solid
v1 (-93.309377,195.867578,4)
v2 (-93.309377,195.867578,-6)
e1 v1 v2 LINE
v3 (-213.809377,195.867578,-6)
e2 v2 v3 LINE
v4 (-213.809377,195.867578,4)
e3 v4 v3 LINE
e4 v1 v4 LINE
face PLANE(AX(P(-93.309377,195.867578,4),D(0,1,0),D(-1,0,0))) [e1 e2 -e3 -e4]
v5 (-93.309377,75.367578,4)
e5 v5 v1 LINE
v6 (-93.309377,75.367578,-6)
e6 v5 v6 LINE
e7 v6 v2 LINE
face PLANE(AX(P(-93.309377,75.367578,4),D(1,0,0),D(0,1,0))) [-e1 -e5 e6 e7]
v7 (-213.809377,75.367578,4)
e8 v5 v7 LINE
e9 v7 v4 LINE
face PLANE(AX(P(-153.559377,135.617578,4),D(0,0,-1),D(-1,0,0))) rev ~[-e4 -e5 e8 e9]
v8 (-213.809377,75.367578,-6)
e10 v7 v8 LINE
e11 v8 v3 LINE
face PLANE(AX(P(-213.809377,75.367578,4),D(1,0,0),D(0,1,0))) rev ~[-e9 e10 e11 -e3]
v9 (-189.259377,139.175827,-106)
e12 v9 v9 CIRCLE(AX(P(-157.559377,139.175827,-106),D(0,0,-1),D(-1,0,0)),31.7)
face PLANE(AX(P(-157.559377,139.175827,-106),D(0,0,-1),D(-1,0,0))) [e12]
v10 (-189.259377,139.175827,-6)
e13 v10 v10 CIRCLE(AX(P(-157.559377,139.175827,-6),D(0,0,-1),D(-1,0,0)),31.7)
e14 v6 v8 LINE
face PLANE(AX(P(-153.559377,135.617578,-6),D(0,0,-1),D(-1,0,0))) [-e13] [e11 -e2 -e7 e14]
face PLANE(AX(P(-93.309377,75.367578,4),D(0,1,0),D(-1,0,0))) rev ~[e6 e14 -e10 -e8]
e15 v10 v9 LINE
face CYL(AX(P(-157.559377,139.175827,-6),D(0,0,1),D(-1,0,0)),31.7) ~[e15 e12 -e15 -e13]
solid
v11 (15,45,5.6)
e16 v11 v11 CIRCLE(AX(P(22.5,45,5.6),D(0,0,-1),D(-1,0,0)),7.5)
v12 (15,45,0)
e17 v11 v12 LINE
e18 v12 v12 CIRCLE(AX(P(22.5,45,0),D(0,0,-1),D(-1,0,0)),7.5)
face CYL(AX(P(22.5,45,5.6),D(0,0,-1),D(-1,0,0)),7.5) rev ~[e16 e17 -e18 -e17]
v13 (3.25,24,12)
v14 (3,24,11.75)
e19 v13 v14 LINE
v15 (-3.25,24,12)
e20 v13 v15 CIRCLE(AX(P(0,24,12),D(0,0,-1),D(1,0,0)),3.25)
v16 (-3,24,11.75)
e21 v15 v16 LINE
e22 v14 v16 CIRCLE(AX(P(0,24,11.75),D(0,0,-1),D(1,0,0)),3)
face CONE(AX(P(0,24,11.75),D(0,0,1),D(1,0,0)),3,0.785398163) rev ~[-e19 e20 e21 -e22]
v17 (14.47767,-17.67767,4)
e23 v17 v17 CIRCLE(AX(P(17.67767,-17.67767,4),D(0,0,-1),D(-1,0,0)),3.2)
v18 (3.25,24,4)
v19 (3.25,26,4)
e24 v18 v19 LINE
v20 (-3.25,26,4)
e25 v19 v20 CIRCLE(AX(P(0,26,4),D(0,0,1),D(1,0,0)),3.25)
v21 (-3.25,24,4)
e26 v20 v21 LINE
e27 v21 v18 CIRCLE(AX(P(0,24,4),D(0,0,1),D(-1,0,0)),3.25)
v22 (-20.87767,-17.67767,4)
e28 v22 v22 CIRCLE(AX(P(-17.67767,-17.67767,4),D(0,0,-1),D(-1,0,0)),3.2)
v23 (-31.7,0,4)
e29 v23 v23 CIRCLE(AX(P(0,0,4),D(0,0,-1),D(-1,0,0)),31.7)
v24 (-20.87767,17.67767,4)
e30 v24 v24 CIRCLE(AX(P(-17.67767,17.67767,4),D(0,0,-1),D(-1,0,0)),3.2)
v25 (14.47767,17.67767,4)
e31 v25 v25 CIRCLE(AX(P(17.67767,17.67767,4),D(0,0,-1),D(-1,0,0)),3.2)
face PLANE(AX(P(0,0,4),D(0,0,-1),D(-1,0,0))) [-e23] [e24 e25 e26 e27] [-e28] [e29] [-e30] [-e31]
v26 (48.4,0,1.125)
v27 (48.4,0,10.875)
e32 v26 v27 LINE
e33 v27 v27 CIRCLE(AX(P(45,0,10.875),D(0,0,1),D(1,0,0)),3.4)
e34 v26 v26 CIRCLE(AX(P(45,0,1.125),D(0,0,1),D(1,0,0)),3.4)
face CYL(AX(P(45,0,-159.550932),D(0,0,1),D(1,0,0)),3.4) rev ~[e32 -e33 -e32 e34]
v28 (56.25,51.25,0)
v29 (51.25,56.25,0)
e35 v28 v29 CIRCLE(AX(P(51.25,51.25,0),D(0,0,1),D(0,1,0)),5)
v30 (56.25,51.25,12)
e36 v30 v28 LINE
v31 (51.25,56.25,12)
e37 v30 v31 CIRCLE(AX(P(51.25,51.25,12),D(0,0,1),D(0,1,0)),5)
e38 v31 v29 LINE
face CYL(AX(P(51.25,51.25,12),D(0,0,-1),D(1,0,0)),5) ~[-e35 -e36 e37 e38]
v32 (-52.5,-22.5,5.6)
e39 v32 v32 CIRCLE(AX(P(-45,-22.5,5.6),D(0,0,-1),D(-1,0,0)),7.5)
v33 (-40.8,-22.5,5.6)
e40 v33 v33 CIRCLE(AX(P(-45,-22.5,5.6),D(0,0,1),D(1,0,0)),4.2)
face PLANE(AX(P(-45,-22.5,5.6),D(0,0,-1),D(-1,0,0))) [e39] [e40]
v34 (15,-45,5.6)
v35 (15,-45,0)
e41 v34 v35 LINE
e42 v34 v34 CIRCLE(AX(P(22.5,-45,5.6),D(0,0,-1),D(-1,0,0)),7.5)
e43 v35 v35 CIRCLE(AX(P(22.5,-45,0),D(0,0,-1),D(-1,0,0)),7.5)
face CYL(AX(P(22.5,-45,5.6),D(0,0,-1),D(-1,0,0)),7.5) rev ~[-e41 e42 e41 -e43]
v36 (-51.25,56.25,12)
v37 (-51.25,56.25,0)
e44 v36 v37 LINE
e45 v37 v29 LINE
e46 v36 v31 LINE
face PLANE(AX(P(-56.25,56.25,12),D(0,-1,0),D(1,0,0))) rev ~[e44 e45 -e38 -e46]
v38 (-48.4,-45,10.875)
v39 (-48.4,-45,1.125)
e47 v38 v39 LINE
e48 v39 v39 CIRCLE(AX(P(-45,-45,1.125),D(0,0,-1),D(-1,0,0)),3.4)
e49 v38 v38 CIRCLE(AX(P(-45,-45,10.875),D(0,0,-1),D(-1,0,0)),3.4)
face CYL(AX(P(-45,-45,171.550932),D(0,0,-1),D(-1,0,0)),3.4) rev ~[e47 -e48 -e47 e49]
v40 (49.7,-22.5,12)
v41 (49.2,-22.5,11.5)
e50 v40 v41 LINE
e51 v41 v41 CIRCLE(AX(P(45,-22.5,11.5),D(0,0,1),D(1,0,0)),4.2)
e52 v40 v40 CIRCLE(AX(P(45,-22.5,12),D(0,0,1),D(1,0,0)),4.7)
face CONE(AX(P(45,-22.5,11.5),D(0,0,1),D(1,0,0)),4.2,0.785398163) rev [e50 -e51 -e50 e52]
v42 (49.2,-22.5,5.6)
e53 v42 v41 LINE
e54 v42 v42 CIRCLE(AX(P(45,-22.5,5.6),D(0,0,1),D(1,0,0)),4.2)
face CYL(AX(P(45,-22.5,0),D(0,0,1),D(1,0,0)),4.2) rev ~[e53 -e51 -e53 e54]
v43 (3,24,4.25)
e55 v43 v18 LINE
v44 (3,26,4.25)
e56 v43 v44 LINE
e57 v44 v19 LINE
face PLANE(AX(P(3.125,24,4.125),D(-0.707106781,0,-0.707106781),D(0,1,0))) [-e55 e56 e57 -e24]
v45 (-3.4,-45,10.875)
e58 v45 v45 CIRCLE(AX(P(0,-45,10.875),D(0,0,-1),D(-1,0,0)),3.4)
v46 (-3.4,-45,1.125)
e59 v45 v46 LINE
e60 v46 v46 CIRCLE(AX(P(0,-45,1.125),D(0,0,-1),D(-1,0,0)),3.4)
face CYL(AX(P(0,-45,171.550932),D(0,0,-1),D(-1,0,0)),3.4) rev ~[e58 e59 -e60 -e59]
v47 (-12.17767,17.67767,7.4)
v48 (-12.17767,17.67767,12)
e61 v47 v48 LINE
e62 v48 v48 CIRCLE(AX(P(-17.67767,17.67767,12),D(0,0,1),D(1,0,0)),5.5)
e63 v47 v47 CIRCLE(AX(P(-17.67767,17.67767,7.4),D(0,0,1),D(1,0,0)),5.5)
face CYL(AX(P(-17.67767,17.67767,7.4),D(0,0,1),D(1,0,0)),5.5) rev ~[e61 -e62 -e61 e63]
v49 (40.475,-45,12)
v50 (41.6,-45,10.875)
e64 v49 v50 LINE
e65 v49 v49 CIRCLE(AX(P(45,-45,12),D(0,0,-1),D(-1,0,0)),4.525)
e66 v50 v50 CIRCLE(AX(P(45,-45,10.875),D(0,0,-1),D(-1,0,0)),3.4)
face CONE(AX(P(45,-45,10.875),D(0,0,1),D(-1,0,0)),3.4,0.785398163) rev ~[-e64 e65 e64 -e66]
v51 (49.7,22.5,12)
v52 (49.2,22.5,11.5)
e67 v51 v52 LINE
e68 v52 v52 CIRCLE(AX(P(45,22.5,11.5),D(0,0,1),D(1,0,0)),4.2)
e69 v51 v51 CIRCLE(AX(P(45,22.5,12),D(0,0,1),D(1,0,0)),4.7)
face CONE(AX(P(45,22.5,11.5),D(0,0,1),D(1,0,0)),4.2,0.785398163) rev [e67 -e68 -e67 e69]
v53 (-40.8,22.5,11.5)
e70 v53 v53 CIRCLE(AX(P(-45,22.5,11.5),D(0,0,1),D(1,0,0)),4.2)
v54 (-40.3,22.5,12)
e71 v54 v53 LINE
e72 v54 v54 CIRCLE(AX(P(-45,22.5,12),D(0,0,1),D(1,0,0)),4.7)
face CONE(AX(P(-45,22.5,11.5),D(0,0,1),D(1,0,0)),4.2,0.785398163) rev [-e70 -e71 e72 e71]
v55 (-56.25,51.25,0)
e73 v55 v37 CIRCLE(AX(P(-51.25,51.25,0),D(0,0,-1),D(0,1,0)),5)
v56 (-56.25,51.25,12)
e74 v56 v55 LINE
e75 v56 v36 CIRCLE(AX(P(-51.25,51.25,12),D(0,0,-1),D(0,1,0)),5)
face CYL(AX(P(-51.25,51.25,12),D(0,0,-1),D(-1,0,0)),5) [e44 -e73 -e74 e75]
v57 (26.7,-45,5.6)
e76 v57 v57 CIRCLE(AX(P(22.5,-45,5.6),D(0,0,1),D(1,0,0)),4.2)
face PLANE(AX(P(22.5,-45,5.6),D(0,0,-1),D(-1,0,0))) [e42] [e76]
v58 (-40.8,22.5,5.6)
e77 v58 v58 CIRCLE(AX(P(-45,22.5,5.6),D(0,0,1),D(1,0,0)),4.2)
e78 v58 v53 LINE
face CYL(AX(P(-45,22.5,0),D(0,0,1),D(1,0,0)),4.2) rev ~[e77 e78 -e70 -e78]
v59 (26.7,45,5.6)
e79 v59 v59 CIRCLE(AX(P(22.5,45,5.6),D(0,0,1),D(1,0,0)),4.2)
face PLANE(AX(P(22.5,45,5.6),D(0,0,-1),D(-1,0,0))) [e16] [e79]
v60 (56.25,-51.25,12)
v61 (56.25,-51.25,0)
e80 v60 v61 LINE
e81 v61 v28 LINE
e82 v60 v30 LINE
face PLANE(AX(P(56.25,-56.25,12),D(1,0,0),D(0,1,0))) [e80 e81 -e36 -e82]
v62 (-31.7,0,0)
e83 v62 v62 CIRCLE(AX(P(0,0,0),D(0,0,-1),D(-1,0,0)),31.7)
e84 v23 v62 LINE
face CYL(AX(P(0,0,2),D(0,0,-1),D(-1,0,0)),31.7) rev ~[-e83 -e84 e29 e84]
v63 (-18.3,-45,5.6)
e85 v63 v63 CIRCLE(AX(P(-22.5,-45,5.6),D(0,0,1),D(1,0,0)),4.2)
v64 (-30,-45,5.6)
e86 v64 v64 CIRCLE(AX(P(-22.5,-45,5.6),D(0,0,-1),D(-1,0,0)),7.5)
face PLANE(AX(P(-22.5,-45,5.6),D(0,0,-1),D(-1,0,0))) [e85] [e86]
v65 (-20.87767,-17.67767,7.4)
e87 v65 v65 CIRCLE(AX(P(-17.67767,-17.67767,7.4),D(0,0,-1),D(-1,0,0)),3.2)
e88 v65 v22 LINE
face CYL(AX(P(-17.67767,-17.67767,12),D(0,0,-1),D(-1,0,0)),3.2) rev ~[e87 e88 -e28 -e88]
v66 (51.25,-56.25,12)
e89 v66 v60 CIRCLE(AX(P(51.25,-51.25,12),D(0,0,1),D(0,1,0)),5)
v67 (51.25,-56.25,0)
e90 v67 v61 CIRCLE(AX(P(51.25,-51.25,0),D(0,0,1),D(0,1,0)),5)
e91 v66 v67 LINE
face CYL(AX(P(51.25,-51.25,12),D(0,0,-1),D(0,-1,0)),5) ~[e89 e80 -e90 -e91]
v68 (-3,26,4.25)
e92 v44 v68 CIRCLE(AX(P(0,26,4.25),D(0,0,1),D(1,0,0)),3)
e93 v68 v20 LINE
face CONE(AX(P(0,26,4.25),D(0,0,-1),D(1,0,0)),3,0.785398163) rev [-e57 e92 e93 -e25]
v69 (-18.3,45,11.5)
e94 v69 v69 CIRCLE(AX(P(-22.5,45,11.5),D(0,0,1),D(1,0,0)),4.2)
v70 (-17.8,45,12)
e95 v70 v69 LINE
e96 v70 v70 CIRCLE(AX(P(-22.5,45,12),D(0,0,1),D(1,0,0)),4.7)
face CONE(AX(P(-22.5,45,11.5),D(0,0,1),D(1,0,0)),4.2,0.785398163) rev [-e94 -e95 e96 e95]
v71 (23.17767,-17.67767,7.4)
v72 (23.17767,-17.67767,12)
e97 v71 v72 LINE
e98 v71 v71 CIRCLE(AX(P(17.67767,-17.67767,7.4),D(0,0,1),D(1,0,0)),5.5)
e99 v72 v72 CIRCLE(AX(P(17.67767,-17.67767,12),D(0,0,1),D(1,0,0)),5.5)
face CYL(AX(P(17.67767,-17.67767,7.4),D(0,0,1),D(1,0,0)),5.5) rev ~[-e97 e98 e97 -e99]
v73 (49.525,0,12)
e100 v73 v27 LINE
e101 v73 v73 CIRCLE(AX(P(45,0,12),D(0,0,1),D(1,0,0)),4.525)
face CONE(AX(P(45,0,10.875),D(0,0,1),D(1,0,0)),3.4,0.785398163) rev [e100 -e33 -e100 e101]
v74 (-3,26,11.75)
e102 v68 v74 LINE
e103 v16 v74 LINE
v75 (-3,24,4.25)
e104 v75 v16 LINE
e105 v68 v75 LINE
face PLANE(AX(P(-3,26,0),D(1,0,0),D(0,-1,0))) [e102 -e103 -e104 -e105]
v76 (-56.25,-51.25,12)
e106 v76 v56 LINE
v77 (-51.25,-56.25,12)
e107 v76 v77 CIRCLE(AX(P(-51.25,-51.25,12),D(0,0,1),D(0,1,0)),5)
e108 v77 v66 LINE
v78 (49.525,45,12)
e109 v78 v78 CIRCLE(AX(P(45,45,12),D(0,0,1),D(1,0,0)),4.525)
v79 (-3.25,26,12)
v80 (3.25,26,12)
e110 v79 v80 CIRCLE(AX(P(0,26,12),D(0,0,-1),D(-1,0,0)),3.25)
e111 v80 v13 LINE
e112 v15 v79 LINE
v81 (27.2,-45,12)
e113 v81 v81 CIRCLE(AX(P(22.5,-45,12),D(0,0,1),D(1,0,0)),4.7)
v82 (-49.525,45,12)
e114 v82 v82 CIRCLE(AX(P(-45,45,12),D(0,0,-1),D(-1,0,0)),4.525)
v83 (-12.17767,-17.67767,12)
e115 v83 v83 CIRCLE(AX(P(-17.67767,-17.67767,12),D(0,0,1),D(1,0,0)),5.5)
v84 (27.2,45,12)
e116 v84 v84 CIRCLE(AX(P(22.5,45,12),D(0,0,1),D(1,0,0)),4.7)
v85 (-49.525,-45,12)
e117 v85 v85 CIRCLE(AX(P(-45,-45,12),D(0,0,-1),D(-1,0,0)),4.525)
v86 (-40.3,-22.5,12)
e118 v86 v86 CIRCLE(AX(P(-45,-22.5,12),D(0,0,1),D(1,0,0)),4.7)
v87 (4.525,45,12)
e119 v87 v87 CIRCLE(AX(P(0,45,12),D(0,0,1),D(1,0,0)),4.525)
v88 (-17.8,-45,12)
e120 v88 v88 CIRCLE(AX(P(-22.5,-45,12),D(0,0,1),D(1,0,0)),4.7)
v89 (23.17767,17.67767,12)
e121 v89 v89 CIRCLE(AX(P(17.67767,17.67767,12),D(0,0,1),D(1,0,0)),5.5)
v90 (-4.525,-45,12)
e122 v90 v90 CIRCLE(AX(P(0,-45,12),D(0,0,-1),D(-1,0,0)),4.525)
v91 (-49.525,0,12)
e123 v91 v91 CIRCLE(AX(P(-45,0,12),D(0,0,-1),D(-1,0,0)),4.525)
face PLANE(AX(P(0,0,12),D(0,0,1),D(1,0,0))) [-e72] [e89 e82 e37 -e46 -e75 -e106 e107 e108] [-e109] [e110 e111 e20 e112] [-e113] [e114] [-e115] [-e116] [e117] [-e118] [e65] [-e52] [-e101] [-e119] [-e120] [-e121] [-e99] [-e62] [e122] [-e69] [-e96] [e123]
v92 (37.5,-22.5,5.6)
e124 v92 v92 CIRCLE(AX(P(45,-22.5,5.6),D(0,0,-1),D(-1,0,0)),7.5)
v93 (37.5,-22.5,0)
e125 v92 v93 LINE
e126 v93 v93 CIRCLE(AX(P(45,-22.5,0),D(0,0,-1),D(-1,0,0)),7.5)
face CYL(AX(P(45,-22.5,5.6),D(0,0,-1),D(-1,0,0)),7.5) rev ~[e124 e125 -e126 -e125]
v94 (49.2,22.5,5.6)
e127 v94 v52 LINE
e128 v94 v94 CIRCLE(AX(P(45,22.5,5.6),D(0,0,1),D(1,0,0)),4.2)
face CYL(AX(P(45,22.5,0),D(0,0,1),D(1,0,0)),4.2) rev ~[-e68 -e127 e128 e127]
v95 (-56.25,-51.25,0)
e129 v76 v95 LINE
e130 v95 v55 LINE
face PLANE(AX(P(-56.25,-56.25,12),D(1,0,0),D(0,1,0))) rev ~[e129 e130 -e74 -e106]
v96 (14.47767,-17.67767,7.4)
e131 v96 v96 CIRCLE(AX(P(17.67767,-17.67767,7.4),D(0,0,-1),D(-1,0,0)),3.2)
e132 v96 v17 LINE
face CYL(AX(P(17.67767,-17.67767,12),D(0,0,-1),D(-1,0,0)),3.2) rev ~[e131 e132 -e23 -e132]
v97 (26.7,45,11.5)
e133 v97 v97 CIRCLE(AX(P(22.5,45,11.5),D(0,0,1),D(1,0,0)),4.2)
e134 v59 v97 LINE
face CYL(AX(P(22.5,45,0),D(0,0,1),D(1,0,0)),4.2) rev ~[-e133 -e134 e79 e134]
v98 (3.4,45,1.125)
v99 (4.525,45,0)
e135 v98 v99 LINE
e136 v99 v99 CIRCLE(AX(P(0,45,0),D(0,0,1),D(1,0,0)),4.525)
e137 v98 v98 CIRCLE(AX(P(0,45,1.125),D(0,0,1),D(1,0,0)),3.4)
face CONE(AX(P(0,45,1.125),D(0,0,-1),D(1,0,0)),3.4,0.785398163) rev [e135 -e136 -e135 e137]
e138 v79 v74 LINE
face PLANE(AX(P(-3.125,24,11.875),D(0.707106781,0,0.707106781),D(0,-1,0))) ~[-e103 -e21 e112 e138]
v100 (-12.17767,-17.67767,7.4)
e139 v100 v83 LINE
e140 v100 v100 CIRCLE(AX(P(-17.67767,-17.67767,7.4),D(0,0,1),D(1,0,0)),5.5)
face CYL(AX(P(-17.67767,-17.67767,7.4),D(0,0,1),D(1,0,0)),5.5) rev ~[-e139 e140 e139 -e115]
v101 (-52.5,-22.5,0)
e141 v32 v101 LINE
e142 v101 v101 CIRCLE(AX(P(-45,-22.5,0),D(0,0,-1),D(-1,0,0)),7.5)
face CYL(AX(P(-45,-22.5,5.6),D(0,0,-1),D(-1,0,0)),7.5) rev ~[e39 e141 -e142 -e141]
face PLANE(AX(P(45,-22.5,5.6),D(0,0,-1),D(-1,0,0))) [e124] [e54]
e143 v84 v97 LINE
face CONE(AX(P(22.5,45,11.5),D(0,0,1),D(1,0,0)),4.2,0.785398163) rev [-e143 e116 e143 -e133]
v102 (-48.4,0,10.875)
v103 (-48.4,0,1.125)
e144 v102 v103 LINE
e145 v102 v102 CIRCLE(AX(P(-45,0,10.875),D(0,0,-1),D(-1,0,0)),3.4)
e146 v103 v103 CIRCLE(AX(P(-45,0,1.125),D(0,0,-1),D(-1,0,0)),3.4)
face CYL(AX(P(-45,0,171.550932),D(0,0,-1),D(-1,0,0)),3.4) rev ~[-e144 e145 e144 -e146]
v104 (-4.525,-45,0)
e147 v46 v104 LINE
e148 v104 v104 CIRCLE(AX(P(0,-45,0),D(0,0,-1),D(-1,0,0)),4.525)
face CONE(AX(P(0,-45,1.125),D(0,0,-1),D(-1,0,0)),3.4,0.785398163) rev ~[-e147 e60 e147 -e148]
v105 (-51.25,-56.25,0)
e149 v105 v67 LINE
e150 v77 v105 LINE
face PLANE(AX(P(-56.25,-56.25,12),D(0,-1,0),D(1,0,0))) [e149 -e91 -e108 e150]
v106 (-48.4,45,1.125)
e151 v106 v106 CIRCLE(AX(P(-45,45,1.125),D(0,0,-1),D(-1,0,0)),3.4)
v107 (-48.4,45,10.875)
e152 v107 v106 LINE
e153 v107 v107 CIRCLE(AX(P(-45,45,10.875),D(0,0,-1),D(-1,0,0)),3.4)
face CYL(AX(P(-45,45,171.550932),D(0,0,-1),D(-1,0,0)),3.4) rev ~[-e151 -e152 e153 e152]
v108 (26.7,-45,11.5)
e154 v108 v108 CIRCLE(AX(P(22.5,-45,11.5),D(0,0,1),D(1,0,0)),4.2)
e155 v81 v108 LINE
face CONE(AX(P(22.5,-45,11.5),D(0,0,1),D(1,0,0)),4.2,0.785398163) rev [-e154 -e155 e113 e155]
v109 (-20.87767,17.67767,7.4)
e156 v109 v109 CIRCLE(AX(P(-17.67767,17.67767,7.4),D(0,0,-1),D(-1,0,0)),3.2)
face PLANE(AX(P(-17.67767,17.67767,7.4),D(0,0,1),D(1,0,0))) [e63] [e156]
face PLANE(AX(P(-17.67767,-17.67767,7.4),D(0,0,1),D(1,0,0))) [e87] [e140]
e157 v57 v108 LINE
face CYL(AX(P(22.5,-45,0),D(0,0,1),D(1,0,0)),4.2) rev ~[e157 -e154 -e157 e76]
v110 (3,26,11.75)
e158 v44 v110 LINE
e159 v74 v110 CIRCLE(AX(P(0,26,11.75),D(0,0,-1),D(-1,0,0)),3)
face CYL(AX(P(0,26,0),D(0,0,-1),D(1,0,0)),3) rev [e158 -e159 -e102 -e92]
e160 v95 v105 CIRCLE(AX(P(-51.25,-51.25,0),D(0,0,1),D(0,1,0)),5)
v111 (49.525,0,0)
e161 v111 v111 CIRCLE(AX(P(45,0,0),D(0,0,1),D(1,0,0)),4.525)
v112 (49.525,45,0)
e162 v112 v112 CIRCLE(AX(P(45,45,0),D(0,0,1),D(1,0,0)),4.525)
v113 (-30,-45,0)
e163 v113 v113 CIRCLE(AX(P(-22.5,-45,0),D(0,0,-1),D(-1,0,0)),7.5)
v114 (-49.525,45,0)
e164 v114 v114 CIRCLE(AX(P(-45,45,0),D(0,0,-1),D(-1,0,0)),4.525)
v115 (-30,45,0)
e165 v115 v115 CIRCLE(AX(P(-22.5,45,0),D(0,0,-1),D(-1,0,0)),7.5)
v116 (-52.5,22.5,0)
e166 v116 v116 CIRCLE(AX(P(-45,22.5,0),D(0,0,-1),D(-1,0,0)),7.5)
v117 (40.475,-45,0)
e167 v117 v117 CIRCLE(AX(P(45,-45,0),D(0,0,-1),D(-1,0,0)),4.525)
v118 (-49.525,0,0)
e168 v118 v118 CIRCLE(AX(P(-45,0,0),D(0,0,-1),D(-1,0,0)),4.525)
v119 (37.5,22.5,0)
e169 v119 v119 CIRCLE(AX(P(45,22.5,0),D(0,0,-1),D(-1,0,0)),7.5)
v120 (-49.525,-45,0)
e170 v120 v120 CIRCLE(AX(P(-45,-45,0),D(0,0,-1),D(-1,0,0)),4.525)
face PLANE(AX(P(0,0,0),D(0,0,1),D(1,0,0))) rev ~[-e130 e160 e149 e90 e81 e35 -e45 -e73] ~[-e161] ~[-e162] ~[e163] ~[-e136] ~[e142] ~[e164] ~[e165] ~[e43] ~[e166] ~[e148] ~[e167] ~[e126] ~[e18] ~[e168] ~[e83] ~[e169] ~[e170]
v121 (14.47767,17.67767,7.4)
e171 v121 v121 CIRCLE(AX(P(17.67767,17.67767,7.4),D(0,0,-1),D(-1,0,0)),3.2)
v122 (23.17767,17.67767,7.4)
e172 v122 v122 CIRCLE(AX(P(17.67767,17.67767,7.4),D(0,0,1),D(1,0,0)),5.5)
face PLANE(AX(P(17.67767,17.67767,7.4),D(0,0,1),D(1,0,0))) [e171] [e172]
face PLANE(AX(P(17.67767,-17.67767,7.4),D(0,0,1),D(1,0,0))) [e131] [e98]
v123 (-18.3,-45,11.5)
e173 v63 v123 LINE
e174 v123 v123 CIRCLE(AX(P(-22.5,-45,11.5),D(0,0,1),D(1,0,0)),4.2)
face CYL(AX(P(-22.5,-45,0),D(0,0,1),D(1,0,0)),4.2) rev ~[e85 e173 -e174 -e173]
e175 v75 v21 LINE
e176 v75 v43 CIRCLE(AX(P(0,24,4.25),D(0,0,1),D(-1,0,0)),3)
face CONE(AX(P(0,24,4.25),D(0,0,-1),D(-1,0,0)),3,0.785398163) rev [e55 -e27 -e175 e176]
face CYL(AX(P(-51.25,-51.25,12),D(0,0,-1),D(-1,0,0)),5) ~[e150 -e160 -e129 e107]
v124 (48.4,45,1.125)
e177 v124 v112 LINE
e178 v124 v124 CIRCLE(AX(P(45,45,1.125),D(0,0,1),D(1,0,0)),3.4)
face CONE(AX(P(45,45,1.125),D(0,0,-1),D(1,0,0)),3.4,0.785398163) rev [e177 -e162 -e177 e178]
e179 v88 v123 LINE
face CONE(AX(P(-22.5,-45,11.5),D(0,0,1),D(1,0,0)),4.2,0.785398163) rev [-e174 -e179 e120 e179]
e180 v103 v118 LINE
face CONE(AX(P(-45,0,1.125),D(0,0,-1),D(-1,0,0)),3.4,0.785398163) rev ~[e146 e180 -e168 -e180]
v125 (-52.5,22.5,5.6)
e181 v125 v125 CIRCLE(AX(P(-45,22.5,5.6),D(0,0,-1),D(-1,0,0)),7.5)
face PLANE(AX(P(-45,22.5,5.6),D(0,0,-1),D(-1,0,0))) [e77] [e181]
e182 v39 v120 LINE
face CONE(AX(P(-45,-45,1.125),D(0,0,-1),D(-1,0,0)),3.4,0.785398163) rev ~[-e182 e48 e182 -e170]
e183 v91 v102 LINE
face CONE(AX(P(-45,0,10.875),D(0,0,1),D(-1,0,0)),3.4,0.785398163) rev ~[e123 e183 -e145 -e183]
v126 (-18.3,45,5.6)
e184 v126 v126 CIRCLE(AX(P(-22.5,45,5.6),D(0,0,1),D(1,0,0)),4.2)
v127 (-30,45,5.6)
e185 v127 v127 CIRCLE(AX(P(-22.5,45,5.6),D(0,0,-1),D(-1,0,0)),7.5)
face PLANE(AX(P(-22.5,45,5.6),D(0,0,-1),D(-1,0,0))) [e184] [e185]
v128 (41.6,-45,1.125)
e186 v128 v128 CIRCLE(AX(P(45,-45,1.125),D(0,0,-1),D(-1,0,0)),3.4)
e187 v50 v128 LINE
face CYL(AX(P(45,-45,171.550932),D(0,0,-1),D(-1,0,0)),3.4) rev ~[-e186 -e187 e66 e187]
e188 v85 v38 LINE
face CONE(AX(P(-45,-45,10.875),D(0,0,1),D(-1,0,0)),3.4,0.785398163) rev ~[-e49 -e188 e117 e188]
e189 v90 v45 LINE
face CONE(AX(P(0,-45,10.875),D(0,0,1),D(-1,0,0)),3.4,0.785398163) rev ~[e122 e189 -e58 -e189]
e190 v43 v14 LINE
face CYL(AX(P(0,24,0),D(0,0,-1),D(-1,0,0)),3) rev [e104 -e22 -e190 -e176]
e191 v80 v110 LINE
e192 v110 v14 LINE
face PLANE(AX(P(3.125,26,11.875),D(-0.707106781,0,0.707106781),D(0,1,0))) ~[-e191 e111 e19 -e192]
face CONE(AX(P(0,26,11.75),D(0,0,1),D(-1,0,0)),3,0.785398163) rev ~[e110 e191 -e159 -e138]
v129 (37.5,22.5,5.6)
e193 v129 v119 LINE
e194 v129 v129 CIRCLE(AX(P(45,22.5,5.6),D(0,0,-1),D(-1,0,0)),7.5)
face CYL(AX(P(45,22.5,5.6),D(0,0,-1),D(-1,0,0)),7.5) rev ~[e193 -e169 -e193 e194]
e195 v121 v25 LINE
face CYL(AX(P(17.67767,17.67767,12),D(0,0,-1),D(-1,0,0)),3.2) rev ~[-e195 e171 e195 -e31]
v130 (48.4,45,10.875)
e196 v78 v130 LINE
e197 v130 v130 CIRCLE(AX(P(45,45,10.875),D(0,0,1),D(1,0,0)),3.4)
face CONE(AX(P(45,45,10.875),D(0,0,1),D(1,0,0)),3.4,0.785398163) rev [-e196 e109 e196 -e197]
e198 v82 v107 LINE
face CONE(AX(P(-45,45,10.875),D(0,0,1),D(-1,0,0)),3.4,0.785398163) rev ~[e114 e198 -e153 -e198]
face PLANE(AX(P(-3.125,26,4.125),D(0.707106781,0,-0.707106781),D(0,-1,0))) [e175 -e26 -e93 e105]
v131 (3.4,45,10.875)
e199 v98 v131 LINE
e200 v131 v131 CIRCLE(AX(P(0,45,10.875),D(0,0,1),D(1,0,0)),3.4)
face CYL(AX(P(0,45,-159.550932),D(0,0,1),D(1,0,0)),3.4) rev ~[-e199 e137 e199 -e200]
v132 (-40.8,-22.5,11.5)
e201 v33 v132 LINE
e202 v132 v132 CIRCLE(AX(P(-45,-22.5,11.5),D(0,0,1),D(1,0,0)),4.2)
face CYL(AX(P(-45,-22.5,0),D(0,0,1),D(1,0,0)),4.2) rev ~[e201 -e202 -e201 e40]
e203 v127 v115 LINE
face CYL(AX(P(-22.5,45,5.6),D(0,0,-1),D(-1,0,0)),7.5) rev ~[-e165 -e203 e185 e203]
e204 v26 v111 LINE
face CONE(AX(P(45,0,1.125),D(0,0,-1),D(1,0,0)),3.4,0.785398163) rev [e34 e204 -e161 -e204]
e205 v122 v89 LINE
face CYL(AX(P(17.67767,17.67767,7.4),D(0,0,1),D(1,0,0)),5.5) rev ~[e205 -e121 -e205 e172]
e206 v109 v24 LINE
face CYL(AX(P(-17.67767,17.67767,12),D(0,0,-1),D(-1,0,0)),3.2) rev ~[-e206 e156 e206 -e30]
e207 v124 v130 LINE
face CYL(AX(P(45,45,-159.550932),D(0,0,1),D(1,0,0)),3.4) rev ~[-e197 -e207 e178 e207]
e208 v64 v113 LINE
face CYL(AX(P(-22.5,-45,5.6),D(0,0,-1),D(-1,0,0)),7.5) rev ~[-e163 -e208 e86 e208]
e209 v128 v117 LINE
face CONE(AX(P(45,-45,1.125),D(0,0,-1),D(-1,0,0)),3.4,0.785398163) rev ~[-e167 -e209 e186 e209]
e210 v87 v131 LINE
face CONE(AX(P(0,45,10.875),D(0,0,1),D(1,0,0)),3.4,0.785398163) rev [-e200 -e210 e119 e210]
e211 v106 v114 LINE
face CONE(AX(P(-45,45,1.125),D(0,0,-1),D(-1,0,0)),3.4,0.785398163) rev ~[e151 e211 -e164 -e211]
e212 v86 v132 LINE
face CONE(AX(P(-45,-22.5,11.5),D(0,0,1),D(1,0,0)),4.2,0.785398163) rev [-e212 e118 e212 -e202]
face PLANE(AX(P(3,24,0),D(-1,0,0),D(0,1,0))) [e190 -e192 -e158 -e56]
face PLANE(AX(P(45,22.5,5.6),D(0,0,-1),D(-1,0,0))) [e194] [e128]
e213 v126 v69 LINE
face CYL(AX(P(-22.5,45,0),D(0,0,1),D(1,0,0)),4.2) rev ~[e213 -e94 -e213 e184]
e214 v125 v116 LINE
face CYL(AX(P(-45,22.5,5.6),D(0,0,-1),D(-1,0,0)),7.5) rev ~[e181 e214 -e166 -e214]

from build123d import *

# Parameters (mm, degrees)
SKETCH1_W                               = 112.5
SKETCH1_H                               = 112.5
BOSS_EXTRUDE1_DEPTH                     = 12
FILLET1_R                               = 5
SKETCH3_W                               = 31.7
SKETCH3_H                               = 4
CUT_EXTRUDE1_DEPTH                      = 81.449518333
CHAMFER3_SIZE                           = 0.25
CBORE_FOR_M6_HEX_HEAD_BOLT1_D           = 6.4
CBORE_FOR_M6_HEX_HEAD_BOLT1_CBORE_D     = 11
CBORE_FOR_M6_HEX_HEAD_BOLT1_CBORE_DEPTH = 4.6
F_6_8_6_8_DIAMETER_HOLE1_D              = 6.8
F_6_8_6_8_DIAMETER_HOLE2_D              = 6.8
CHAMFER1_SIZE                           = 1.125
CBORE_FOR_M8_HEX_HEAD_BOLT1_D           = 8.4
CBORE_FOR_M8_HEX_HEAD_BOLT1_CBORE_D     = 15
CBORE_FOR_M8_HEX_HEAD_BOLT1_CBORE_DEPTH = 5.6
CHAMFER2_SIZE                           = 0.5
SKETCH13_W                              = 120.5
SKETCH13_H                              = 120.5
BOSS_EXTRUDE5_DEPTH                     = 10
SKETCH20_R                              = 31.7
BOSS_EXTRUDE6_DEPTH                     = 100


with BuildPart() as part:
    # Sketch1 → Boss-Extrude1 (new body)
    with BuildSketch(Plane.XY.offset(12)):
        Rectangle(SKETCH1_W, SKETCH1_H)
    extrude(amount=-BOSS_EXTRUDE1_DEPTH)

    # Fillet1
    fillet1_edges = [part.edges().sort_by_distance(p)[0] for p in [
        (-56.25, 56.25, 6),
        (56.25, 56.25, 6),
        (56.25, -56.25, 6),
        (-56.25, -56.25, 6),
    ]]
    fillet(fillet1_edges, radius=FILLET1_R)

    # Sketch3 → Cut-Revolve1 (revolve, cut)
    with BuildSketch(Plane(origin=(0, 0, 0), x_dir=(1, 0, 0), z_dir=(0, 1, 0))):
        with Locations((-15.85, -2)):
            Rectangle(SKETCH3_W, SKETCH3_H)
    revolve(axis=Axis((0, 0, 4), (0, 0, -1)), mode=Mode.SUBTRACT)

    # Sketch2 → Cut-Extrude1 (cut, through all)
    with BuildSketch(Plane(origin=(0, 0, 0), x_dir=(-1, 0, 0), z_dir=(0, 0, -1))):
        with BuildLine():
            Line((3, 26), (3, 24))
            ThreePointArc((3, 24), (0, 21), (-3, 24))
            Line((-3, 24), (-3, 26))
            ThreePointArc((-3, 26), (0, 29), (3, 26))
        make_face()
    extrude(amount=-CUT_EXTRUDE1_DEPTH, mode=Mode.SUBTRACT)

    # Chamfer3
    chamfer3_edges = [part.edges().sort_by_distance(p)[0] for p in [
        (3, 25, 4),
        (0, 21, 4),
        (-3, 25, 4),
        (0, 29, 4),
        (0, 29, 12),
        (-3, 25, 12),
        (0, 21, 12),
        (3, 25, 12),
    ]]
    chamfer(chamfer3_edges, length=CHAMFER3_SIZE)

    # CBORE for M6 Hex Head Bolt1 (through all)
    with Locations(Plane.XY.offset(12)):
        with Locations((-17.67766953, -17.67766953), (17.67766953, -17.67766953), (17.67766953, 17.67766953), (-17.67766953, 17.67766953)):
            CounterBoreHole(CBORE_FOR_M6_HEX_HEAD_BOLT1_D / 2, CBORE_FOR_M6_HEX_HEAD_BOLT1_CBORE_D / 2, CBORE_FOR_M6_HEX_HEAD_BOLT1_CBORE_DEPTH)

    # Ø6.8 (6.8) Diameter Hole1 (through all)
    with Locations(Plane.XY.offset(12)):
        with Locations((-45, 0), (-45, 45), (0, -45), (45, -45), (-45, -45)):
            Hole(F_6_8_6_8_DIAMETER_HOLE1_D / 2)

    # Ø6.8 (6.8) Diameter Hole2 (through all)
    with Locations(Plane(origin=(0, 0, 0), x_dir=(-1, 0, 0), z_dir=(0, 0, -1))):
        with Locations((-45, 0), (0, 45), (-45, 45)):
            Hole(F_6_8_6_8_DIAMETER_HOLE2_D / 2)

    # Chamfer1
    chamfer1_edges = [part.edges().sort_by_distance(p)[0] for p in [
        (-41.6, -45, 12),
        (-41.6, -45, 0),
        (48.4, -45, 12),
        (48.4, -45, 0),
        (3.4, -45, 12),
        (3.4, -45, 0),
        (-41.6, 45, 12),
        (-41.6, 45, 0),
        (-41.6, 0, 12),
        (-41.6, 0, 0),
        (41.6, 45, 0),
        (41.6, 45, 12),
        (-3.4, 45, 0),
        (-3.4, 45, 12),
        (41.6, 0, 0),
        (41.6, 0, 12),
    ]]
    chamfer(chamfer1_edges, length=CHAMFER1_SIZE)

    # CBORE for M8 Hex Head Bolt1 (through all)
    with Locations(Plane(origin=(0, 0, 0), x_dir=(-1, 0, 0), z_dir=(0, 0, -1))):
        with Locations((-45, 22.5), (-22.5, 45), (45, 22.5), (22.5, 45), (45, -22.5), (22.5, -45), (-45, -22.5), (-22.5, -45)):
            CounterBoreHole(CBORE_FOR_M8_HEX_HEAD_BOLT1_D / 2, CBORE_FOR_M8_HEX_HEAD_BOLT1_CBORE_D / 2, CBORE_FOR_M8_HEX_HEAD_BOLT1_CBORE_DEPTH)

    # Chamfer2
    chamfer2_edges = [part.edges().sort_by_distance(p)[0] for p in [
        (18.3, -45, 12),
        (40.8, -22.5, 12),
        (-26.7, -45, 12),
        (-49.2, -22.5, 12),
        (-26.7, 45, 12),
        (-49.2, 22.5, 12),
        (18.3, 45, 12),
        (40.8, 22.5, 12),
    ]]
    chamfer(chamfer2_edges, length=CHAMFER2_SIZE)


with BuildPart() as body_2:
    # Sketch13 → Boss-Extrude5 (new body)
    with BuildSketch(Plane(origin=(0, 0, 4), x_dir=(-1, 0, 0), z_dir=(0, 0, -1))):
        with Locations((153.559377031, 135.617578419)):
            Rectangle(SKETCH13_W, SKETCH13_H)
    extrude(amount=BOSS_EXTRUDE5_DEPTH)

    # Sketch20 → Boss-Extrude6 (add)
    with BuildSketch(Plane(origin=(0, 0, -6), x_dir=(-1, 0, 0), z_dir=(0, 0, -1))):
        with Locations((157.559377031, 139.175827087)):
            Circle(SKETCH20_R)
    extrude(amount=BOSS_EXTRUDE6_DEPTH)


solid = Compound([part.part, body_2.part])
